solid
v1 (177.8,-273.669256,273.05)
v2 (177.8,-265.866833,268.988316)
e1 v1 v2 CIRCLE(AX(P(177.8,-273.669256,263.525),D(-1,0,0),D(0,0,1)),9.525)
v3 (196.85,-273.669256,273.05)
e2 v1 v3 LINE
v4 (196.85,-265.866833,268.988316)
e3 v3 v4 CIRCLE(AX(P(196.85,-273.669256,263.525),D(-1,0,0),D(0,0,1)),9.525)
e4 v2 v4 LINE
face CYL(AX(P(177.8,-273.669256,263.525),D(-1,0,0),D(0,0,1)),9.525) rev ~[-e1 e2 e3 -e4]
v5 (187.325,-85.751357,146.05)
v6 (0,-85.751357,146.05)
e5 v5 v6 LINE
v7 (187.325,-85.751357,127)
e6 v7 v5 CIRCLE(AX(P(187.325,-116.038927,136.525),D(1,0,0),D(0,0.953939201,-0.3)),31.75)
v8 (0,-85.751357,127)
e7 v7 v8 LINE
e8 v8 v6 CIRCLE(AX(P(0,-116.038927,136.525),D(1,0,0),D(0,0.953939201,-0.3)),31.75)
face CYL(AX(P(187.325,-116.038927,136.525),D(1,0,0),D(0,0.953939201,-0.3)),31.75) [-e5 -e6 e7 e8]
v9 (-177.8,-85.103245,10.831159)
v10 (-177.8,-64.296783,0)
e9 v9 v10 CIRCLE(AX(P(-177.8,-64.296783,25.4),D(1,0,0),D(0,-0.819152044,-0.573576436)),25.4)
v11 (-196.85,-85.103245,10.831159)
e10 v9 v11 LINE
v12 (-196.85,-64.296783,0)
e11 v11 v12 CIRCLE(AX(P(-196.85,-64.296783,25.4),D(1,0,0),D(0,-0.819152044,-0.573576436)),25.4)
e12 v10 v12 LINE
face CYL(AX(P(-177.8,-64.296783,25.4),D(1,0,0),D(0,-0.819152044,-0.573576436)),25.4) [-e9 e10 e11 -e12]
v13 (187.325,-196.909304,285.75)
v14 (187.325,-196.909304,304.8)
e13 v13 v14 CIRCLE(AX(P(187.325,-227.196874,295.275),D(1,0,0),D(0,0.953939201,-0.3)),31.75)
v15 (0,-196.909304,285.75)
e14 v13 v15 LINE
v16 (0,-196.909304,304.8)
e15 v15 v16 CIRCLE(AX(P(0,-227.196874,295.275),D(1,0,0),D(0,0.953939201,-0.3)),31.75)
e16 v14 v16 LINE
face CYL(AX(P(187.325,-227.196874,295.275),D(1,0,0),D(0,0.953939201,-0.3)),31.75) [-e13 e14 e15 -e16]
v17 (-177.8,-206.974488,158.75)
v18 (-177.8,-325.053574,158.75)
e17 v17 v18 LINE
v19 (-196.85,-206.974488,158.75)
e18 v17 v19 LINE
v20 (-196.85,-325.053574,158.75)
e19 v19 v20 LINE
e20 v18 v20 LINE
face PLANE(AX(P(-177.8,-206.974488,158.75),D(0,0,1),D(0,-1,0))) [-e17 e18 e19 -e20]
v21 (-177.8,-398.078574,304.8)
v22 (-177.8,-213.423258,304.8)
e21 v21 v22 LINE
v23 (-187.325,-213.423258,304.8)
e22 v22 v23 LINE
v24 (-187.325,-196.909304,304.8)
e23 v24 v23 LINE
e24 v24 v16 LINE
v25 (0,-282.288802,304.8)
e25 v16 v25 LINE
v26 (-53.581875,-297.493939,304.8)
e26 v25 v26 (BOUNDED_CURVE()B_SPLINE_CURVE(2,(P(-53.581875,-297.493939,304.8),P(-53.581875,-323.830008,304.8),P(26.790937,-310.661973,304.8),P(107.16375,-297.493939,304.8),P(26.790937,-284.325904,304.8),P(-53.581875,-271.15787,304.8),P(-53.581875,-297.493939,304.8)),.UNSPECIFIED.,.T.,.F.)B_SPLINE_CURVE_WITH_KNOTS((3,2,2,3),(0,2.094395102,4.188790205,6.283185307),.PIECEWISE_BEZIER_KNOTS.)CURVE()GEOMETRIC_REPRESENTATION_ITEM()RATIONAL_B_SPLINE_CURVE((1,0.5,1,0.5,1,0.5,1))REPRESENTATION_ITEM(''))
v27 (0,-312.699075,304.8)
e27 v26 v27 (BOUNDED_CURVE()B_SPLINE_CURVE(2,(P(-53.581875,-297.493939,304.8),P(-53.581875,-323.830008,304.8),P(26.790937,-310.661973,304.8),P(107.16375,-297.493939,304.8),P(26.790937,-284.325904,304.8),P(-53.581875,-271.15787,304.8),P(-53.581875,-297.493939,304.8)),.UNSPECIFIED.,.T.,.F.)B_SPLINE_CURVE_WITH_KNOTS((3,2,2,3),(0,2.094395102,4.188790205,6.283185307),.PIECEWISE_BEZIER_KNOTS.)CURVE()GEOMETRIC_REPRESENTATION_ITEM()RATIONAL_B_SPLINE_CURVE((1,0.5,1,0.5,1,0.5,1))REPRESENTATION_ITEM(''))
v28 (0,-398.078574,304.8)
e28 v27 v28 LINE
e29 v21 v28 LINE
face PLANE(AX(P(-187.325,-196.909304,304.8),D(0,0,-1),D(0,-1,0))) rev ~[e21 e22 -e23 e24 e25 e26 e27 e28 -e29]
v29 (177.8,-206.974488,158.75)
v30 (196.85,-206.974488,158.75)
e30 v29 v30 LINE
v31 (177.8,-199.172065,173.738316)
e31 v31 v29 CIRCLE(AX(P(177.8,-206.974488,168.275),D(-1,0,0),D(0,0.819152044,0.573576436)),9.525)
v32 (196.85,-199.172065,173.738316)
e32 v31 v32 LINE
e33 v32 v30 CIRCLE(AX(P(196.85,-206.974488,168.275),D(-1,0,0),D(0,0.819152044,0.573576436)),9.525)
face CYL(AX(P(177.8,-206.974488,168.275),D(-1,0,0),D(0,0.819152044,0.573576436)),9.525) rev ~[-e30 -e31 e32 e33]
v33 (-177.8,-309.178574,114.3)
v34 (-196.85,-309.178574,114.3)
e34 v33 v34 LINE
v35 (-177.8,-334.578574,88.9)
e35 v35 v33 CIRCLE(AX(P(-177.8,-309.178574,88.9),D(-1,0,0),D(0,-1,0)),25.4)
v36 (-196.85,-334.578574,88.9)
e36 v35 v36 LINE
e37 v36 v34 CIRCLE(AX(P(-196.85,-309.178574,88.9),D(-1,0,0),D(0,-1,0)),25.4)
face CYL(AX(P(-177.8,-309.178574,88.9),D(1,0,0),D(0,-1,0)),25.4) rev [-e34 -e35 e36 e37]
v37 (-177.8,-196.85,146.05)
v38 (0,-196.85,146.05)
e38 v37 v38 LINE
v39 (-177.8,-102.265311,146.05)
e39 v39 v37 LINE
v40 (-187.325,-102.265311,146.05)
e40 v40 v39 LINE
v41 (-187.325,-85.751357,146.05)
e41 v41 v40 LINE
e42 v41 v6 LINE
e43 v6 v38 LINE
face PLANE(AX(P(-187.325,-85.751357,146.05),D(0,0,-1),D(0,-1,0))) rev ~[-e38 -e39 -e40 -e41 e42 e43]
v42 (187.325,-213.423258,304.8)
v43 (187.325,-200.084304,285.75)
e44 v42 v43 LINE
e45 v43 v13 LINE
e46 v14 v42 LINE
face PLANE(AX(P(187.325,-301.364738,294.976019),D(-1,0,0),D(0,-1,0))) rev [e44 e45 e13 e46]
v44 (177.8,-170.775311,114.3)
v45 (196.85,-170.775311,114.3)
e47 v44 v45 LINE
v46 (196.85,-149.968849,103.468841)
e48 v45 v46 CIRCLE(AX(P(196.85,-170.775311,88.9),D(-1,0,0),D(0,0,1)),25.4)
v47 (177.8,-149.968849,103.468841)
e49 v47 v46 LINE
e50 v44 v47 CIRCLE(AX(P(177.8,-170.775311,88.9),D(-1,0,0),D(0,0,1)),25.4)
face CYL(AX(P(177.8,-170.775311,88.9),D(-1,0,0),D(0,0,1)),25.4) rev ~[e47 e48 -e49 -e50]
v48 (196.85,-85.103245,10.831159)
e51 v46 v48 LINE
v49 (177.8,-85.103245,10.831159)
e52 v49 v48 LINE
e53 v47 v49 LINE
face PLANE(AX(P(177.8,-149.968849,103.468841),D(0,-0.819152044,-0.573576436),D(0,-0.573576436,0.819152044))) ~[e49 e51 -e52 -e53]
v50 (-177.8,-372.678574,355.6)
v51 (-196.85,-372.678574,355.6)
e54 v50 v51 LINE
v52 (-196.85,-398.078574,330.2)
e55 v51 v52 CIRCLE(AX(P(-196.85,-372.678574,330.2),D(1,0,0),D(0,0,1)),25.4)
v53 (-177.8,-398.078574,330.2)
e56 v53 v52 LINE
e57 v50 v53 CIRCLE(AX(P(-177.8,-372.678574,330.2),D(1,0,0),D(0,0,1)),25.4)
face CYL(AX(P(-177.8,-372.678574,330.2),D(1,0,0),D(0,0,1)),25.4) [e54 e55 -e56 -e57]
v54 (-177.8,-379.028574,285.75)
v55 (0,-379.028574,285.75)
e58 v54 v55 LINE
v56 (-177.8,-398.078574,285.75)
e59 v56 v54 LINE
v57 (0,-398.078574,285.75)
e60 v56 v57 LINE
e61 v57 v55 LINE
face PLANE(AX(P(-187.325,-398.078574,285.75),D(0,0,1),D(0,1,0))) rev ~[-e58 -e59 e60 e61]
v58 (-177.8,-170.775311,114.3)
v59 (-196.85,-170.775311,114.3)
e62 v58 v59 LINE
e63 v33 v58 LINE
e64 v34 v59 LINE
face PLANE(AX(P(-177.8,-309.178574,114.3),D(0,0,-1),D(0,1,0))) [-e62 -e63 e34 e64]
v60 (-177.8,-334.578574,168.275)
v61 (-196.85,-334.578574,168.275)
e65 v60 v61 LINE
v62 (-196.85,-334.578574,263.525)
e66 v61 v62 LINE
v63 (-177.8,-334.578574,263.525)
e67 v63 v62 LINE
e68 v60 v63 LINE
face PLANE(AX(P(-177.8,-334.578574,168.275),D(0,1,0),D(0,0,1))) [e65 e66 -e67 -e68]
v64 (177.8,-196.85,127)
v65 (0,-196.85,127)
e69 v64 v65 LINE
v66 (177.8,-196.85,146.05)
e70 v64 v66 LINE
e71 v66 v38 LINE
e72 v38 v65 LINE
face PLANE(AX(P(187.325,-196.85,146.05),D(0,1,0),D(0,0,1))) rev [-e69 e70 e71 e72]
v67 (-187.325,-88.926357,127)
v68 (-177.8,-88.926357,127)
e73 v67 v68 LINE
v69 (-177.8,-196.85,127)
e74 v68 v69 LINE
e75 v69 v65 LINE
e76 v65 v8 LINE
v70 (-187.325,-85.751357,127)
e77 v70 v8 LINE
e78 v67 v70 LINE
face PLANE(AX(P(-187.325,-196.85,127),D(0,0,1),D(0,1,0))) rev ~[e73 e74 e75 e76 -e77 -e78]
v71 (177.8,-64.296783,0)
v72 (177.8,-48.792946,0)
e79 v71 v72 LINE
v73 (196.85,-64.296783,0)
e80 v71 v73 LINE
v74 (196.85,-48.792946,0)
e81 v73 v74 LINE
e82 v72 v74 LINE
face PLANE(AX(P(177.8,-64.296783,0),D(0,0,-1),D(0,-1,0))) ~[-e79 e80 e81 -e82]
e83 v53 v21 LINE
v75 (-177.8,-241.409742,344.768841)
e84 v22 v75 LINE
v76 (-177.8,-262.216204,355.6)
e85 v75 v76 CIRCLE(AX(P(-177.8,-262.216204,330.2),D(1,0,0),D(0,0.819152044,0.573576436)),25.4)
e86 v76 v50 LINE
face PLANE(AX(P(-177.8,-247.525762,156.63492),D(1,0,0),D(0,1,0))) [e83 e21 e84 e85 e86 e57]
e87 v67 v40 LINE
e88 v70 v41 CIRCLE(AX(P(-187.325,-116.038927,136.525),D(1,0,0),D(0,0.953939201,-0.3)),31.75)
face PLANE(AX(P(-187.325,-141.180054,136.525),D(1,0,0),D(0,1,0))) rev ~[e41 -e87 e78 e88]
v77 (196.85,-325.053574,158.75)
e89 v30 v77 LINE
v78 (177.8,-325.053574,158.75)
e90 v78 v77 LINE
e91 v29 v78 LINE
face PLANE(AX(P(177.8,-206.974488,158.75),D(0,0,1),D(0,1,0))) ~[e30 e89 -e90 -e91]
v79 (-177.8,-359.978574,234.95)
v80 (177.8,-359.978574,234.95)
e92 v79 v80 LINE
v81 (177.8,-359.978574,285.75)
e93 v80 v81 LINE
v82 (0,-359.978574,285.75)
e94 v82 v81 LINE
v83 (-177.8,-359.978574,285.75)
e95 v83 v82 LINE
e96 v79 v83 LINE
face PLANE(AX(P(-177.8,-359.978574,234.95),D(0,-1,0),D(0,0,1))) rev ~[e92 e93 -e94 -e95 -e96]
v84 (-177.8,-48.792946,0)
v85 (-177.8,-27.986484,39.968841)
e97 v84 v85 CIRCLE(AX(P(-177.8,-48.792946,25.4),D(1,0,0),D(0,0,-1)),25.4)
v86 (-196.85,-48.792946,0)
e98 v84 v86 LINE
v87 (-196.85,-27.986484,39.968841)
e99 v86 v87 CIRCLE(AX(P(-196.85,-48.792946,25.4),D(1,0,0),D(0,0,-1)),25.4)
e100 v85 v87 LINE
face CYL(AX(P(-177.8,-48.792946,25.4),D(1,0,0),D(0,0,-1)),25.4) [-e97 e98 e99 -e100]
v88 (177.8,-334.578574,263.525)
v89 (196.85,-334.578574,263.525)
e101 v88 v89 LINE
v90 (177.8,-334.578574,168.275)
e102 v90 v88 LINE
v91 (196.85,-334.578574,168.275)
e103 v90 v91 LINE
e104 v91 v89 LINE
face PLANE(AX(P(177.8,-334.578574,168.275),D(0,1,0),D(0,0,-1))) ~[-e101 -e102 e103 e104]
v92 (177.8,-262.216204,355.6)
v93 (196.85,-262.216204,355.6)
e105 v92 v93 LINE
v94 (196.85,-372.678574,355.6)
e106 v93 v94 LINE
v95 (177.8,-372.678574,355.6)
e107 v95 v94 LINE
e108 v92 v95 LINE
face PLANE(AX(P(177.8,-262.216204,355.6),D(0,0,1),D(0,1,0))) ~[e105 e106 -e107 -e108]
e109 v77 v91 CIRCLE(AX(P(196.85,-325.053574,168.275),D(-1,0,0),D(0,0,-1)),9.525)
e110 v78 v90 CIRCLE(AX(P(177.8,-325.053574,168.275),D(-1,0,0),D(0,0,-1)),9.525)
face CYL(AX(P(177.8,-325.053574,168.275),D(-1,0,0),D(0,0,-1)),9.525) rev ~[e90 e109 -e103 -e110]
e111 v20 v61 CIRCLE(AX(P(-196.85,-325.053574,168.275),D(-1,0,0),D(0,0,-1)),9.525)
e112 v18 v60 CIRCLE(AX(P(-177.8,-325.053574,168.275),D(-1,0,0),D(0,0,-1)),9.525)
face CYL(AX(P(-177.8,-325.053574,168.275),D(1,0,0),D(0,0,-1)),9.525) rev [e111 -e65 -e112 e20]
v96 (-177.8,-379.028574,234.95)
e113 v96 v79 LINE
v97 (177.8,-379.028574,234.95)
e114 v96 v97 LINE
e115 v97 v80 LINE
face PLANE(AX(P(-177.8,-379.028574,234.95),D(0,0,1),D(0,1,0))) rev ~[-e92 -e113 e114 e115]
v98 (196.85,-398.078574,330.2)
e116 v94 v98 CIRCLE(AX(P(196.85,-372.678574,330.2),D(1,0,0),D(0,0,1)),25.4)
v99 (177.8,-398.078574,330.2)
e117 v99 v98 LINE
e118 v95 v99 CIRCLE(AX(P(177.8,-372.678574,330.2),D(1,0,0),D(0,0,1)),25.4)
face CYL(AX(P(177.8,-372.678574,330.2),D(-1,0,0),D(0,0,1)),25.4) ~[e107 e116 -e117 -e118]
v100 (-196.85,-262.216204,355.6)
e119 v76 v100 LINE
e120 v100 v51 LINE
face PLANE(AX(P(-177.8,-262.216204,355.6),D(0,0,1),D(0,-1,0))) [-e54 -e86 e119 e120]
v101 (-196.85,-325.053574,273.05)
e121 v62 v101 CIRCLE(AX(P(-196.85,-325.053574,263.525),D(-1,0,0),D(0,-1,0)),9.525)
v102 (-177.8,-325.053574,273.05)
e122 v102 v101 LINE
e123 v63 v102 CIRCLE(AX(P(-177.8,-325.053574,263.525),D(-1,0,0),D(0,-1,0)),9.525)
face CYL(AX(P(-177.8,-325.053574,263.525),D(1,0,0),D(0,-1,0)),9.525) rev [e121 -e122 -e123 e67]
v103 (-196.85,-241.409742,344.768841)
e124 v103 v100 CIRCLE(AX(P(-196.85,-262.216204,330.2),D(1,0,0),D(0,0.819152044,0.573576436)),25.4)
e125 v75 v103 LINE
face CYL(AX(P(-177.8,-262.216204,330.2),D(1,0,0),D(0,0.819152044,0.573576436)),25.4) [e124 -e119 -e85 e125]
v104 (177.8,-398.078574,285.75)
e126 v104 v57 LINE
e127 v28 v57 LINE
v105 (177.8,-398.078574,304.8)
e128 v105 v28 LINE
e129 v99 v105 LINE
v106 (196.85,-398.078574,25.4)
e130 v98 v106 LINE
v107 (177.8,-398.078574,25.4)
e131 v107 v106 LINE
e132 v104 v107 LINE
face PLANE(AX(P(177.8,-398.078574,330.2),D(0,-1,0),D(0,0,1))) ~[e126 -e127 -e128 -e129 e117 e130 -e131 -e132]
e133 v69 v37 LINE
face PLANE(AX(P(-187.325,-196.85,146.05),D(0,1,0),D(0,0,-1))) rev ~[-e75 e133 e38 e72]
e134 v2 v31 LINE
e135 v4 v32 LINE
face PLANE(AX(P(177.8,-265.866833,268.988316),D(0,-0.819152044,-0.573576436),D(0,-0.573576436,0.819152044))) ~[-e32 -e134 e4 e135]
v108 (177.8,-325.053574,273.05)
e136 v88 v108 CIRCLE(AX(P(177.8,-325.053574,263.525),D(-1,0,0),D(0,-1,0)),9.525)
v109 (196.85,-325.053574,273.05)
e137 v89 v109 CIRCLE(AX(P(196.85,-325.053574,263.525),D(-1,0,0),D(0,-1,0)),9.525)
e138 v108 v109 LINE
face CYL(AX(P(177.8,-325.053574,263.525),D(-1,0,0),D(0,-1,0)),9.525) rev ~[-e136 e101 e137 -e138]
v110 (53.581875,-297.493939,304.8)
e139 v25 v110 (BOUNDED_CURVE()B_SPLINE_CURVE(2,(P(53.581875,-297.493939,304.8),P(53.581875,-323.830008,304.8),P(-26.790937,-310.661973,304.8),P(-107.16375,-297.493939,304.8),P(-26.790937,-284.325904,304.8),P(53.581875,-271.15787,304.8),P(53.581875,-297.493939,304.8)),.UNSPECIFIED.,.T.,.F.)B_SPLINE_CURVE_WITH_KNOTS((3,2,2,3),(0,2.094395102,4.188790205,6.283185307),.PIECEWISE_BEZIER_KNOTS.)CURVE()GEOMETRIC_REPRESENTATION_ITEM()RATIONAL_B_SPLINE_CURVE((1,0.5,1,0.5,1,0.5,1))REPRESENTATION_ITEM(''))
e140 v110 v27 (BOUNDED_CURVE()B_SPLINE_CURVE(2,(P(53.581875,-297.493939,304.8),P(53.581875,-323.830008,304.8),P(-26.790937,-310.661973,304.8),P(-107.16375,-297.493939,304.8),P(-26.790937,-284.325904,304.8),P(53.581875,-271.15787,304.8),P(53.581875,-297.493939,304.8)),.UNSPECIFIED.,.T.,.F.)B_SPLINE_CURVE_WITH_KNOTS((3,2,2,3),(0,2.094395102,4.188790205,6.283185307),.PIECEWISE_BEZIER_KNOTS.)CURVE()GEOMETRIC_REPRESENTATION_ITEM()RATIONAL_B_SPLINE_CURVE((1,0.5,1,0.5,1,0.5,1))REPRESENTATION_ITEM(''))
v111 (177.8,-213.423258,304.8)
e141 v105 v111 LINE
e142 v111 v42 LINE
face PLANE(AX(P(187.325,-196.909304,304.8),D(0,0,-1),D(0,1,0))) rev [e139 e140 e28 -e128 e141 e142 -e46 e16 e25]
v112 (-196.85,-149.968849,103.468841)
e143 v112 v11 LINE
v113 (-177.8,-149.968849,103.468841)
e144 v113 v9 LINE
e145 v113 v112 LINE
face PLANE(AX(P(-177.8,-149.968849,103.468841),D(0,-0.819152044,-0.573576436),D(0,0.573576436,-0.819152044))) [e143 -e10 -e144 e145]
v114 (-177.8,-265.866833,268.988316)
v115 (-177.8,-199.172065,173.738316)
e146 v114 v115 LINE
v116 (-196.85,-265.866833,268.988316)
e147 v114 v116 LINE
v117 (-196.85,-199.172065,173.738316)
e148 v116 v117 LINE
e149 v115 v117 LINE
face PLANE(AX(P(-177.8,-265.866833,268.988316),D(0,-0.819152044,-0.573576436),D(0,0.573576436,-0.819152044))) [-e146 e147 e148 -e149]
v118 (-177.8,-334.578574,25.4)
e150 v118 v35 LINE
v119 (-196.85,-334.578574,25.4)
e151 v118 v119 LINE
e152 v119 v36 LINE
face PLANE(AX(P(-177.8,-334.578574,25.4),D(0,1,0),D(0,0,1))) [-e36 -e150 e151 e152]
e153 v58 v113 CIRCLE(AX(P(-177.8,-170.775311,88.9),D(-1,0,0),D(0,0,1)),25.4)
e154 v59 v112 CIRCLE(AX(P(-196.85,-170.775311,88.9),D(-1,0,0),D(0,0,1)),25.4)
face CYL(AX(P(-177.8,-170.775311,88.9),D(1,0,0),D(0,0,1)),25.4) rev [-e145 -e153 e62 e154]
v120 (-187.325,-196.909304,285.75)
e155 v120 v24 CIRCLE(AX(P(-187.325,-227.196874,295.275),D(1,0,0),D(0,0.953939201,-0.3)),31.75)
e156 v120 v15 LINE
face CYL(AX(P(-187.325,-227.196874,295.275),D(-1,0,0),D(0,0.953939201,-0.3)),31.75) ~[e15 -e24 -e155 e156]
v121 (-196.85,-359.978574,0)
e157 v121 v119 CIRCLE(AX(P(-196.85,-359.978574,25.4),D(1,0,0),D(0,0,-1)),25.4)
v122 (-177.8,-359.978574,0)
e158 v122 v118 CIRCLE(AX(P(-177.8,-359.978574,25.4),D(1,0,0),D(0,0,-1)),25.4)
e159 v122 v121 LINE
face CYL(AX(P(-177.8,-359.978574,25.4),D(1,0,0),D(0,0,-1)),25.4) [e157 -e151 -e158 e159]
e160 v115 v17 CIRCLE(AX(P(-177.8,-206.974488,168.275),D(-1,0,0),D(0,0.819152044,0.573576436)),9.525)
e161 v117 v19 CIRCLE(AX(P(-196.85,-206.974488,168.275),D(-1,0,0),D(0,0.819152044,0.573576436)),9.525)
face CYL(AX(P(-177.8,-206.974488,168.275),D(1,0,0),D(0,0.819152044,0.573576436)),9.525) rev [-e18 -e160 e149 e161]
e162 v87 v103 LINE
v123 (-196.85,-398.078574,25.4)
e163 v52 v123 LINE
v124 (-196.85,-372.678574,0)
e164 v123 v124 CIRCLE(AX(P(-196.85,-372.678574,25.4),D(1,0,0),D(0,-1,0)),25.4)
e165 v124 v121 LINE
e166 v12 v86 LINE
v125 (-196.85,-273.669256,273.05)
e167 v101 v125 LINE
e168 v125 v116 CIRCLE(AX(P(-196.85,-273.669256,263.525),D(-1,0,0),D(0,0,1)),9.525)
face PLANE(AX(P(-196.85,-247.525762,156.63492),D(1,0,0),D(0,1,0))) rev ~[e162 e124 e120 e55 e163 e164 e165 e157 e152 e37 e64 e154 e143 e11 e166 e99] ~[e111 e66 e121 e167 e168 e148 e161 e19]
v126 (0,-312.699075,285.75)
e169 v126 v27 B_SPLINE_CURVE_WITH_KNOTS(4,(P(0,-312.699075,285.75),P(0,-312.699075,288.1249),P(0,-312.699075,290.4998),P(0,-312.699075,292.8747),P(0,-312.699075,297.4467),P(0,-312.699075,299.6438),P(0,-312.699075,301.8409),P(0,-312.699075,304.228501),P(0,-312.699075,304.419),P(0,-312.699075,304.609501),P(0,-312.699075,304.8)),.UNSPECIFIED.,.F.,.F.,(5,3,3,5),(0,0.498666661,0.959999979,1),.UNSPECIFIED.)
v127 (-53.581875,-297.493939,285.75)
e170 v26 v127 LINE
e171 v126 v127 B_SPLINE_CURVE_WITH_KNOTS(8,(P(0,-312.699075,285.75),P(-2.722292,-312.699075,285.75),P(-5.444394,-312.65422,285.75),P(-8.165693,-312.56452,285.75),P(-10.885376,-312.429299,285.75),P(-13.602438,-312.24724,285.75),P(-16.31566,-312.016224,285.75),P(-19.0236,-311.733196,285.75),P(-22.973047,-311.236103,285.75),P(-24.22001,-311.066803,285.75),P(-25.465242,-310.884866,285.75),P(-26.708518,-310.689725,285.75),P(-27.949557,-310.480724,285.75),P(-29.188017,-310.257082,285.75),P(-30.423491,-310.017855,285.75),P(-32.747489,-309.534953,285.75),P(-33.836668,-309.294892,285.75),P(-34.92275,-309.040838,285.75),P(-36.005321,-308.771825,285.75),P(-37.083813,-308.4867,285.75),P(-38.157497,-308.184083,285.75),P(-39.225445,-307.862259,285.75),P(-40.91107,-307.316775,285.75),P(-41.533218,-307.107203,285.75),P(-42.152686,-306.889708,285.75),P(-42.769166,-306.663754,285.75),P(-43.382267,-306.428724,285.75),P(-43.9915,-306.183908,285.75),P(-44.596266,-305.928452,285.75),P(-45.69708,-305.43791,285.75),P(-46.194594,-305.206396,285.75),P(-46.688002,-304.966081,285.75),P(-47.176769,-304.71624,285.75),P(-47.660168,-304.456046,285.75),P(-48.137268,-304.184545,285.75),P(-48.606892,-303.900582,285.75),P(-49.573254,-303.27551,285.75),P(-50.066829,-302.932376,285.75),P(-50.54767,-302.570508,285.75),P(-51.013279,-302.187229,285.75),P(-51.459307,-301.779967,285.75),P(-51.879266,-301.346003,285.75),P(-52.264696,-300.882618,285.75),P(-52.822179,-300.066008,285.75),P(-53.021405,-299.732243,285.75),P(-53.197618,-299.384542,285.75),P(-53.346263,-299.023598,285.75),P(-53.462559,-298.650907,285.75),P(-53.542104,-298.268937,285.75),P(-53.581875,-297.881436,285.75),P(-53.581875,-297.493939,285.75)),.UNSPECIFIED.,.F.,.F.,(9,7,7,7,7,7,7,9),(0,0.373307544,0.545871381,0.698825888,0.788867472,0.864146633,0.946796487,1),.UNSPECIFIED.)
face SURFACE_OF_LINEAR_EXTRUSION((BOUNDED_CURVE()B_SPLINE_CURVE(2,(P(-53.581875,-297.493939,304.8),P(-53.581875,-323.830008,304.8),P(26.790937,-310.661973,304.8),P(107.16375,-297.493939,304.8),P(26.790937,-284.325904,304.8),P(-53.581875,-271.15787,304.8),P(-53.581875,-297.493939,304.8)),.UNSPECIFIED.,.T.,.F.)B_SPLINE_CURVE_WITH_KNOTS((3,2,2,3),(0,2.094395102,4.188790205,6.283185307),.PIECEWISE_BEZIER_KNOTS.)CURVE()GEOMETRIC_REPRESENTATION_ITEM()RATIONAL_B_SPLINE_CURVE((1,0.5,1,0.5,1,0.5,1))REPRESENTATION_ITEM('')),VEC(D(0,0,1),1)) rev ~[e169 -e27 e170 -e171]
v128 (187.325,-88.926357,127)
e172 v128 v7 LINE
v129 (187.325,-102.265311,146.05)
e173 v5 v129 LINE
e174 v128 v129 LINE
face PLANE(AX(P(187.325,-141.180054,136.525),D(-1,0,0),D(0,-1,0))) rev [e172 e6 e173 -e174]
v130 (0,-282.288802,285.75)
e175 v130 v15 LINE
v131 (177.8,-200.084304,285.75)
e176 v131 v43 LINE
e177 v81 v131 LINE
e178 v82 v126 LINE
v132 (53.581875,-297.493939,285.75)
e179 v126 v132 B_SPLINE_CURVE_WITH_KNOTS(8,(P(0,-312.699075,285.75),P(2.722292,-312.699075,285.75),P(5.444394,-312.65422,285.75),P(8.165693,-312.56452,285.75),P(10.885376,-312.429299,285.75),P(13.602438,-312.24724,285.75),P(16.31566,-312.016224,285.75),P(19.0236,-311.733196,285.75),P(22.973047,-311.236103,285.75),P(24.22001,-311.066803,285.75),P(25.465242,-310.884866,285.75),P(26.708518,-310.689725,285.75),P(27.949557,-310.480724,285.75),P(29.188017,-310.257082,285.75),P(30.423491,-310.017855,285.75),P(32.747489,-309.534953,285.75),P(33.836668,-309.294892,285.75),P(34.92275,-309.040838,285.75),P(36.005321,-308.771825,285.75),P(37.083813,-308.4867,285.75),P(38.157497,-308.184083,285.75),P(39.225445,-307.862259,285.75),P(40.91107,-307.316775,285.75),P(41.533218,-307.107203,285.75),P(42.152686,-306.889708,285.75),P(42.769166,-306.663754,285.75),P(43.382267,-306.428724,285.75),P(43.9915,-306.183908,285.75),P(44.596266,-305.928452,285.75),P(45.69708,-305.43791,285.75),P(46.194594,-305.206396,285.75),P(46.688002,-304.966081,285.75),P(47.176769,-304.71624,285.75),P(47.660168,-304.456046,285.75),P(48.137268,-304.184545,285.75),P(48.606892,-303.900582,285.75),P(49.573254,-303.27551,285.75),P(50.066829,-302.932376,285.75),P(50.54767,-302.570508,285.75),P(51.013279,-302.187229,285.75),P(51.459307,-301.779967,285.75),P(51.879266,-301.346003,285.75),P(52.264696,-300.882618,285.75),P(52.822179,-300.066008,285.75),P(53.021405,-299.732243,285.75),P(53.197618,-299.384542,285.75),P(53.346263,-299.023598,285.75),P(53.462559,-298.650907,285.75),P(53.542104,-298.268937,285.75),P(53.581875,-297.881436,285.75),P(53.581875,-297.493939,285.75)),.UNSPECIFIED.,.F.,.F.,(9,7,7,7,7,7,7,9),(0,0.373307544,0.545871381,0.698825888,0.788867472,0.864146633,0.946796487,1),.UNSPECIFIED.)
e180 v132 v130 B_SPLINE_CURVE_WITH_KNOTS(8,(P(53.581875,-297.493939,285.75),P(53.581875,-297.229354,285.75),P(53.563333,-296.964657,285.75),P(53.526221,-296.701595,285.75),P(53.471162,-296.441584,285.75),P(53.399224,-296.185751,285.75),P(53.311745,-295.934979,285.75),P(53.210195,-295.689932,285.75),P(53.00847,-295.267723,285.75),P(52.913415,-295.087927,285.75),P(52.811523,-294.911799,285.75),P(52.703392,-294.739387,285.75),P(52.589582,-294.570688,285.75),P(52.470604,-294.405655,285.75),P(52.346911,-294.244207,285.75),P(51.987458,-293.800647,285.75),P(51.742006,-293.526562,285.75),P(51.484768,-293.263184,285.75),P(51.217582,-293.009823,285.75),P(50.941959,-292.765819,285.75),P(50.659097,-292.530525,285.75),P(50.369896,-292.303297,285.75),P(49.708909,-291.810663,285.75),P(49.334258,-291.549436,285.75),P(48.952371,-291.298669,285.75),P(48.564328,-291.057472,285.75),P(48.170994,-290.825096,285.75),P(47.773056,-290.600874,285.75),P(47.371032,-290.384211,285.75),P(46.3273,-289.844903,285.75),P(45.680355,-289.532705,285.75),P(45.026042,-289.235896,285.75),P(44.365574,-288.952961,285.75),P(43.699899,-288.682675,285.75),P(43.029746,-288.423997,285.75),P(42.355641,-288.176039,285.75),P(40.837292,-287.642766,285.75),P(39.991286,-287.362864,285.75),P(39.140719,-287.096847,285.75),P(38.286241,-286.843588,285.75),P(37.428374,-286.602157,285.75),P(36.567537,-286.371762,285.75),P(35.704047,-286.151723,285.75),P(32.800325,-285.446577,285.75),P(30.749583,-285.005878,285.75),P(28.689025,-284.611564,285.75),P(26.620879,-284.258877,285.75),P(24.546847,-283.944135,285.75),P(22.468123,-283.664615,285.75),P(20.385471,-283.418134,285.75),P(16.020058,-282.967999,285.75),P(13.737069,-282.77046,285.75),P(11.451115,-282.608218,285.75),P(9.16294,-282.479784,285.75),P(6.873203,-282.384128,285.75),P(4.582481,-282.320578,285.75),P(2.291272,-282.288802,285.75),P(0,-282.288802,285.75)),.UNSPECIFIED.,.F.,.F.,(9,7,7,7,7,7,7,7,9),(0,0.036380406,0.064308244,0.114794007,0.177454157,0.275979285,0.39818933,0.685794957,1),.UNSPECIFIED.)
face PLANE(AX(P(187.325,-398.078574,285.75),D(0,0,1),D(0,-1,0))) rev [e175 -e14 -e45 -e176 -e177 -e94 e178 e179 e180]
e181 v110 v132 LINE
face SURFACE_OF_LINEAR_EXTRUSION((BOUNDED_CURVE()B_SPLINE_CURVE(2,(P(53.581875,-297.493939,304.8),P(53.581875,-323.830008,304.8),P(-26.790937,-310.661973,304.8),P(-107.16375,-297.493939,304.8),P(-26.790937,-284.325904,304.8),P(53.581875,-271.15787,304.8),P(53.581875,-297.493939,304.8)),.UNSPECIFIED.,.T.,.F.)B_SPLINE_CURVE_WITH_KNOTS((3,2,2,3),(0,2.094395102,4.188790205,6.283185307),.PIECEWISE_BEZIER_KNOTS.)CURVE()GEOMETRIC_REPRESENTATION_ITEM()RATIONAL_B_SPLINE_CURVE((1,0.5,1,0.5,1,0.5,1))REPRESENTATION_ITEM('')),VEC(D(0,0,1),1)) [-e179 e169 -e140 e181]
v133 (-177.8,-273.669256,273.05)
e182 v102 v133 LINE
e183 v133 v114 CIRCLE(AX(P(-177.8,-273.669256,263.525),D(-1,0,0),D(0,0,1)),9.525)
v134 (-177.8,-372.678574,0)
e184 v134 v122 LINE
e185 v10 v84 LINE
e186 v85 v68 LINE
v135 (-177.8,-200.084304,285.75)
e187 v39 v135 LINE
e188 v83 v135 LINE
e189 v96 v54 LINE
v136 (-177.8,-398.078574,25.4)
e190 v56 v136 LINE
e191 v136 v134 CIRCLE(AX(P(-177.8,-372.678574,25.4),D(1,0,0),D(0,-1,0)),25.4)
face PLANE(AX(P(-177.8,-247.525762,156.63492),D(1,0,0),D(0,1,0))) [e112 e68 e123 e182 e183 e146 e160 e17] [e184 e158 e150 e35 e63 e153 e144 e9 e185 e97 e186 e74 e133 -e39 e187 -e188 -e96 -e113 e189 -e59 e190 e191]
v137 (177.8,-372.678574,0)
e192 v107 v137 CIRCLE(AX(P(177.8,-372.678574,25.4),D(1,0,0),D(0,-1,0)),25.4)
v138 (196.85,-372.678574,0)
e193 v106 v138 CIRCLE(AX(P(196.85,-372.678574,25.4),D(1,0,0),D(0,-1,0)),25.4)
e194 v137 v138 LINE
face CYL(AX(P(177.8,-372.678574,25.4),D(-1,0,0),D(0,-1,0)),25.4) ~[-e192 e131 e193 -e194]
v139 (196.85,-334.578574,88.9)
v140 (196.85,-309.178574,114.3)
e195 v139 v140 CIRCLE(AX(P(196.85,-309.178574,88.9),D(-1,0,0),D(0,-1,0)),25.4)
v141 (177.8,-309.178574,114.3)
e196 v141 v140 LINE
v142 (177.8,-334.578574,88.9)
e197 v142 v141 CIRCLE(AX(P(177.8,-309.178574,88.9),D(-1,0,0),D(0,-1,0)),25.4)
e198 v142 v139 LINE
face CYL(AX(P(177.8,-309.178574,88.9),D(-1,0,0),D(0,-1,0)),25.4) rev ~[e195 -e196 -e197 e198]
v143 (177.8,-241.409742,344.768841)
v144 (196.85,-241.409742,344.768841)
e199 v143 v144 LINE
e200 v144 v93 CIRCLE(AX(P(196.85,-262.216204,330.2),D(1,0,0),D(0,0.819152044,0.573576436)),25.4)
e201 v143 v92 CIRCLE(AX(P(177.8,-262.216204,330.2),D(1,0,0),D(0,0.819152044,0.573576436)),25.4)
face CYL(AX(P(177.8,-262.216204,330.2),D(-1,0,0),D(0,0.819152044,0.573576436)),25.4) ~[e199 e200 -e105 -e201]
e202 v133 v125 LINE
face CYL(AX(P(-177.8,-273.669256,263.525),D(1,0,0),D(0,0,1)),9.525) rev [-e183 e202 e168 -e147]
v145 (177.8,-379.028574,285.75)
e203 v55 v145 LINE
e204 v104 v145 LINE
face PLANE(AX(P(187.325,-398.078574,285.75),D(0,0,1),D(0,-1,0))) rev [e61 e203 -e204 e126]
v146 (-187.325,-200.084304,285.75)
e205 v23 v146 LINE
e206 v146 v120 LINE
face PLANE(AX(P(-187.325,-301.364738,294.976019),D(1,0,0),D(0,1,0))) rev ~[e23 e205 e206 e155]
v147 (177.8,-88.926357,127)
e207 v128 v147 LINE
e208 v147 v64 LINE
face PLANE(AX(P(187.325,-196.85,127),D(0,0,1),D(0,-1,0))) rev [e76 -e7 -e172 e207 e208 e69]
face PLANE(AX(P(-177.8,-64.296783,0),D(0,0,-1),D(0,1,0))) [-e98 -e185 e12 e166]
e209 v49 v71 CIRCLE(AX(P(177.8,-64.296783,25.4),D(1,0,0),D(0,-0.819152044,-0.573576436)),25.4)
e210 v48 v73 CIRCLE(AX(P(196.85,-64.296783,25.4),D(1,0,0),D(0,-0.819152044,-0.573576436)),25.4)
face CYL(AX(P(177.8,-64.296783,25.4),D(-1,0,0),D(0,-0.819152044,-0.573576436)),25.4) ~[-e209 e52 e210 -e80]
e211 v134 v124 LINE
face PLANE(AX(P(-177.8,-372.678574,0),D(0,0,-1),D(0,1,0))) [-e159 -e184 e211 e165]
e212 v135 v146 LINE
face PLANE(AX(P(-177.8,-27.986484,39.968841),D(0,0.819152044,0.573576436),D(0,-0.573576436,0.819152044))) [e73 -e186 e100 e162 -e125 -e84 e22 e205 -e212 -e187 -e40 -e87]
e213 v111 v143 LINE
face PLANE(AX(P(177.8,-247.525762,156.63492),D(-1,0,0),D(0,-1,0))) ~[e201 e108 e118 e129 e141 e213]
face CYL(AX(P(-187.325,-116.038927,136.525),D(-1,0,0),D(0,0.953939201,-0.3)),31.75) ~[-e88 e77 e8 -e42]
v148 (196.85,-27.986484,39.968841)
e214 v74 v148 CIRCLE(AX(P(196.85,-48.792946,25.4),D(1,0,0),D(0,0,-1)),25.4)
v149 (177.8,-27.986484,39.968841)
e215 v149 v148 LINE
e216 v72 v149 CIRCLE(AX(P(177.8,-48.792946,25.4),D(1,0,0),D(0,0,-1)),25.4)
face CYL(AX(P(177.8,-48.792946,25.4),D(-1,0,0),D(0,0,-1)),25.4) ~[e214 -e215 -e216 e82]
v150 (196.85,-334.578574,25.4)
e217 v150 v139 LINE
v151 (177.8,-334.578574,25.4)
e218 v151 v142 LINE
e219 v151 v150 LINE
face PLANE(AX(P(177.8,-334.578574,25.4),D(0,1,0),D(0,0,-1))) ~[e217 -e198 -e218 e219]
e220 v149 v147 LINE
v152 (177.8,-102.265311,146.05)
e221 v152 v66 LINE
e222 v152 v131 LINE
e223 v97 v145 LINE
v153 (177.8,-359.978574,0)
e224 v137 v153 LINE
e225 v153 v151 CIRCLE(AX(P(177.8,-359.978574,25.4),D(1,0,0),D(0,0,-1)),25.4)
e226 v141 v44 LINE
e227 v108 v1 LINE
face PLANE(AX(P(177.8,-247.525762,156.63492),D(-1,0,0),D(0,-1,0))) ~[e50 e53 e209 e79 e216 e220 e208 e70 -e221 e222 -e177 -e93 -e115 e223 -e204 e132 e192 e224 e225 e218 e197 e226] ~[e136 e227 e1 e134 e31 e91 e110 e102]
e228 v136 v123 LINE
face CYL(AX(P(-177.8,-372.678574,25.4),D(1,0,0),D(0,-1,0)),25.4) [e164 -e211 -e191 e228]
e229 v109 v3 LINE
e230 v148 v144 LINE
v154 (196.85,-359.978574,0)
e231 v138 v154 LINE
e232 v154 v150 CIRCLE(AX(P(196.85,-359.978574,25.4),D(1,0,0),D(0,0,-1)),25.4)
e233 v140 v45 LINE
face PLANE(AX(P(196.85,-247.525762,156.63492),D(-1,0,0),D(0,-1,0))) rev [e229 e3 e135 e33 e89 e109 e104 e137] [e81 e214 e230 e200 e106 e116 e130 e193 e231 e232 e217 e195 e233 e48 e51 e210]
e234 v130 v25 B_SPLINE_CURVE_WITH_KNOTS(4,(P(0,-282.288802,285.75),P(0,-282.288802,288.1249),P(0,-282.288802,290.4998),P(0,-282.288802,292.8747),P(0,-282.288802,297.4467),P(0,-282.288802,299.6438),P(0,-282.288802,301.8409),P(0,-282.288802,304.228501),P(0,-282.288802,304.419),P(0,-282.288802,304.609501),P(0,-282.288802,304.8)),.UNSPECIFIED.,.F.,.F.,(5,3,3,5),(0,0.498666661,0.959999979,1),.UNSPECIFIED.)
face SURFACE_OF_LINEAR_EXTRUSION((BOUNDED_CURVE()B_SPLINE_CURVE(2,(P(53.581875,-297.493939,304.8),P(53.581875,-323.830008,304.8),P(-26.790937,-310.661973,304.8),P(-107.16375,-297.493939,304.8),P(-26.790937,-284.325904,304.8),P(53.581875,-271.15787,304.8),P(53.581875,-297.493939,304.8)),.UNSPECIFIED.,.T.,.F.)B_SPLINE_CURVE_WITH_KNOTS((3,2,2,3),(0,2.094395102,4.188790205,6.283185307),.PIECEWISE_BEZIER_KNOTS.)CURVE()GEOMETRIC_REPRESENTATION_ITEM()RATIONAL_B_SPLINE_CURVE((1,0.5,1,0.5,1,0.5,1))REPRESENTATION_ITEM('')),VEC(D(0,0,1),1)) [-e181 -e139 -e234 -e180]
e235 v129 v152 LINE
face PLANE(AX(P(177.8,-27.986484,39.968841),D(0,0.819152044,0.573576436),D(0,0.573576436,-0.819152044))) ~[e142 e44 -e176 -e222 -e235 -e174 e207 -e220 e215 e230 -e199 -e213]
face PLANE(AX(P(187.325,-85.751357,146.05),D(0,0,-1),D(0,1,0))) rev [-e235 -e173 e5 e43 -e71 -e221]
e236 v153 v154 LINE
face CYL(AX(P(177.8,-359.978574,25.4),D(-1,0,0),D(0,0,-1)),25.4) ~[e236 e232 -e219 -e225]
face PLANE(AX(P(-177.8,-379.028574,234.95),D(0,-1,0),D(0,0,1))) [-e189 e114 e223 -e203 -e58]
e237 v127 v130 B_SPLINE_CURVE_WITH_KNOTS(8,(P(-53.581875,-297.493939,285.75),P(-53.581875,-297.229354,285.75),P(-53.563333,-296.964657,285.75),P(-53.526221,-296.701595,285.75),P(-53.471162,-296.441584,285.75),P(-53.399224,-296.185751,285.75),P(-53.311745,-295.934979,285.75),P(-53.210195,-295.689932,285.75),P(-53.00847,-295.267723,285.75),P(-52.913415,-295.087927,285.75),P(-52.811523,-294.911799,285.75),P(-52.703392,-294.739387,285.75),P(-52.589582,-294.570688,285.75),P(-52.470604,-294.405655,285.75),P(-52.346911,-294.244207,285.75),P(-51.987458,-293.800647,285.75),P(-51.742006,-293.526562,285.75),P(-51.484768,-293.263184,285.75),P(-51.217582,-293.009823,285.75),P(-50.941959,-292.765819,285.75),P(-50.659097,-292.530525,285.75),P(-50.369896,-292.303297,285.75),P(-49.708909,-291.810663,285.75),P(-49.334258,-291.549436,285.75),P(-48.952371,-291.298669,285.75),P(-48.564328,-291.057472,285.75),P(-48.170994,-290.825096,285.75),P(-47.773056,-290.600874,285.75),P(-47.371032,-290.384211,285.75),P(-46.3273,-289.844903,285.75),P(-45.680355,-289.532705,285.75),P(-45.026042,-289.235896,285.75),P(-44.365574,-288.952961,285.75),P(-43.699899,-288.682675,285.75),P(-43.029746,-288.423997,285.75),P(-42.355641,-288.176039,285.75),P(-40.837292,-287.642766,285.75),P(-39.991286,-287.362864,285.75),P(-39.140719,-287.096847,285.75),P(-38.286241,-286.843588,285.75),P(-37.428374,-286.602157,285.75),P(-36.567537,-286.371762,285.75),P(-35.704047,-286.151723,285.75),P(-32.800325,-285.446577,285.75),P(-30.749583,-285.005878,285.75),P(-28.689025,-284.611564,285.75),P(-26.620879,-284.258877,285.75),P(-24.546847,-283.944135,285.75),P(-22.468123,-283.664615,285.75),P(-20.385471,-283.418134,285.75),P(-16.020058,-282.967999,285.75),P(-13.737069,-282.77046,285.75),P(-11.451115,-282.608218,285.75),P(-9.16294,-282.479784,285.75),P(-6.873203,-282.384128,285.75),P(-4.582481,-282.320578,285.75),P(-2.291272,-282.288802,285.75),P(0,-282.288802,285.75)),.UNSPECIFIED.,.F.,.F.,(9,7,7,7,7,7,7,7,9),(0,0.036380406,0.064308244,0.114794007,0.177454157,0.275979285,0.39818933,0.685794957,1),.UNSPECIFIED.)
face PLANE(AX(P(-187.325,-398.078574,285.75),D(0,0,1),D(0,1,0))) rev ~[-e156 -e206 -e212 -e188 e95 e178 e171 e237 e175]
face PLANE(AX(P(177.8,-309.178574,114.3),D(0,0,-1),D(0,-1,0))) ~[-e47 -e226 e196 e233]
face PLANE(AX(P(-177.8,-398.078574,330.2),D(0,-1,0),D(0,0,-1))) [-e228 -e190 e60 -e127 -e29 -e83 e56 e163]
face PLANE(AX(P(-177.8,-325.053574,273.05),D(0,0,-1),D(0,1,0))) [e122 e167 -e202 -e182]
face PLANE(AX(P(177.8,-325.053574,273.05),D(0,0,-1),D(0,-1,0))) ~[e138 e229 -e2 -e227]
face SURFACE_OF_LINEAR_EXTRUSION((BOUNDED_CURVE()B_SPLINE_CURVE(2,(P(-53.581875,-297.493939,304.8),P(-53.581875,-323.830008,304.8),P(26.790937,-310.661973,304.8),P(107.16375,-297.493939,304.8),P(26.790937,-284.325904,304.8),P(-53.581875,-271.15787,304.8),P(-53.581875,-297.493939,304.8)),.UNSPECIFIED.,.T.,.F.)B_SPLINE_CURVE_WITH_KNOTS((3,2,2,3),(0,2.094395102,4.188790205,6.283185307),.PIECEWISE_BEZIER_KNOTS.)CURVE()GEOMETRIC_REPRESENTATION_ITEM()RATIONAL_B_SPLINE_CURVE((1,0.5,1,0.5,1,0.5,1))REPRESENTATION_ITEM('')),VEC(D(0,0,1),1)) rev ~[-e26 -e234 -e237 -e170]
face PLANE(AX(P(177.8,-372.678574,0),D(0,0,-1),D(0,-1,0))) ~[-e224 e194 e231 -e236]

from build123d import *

# Parameters (mm, degrees)
F2_DEPTH  = 19.05
F3_W      = 9.525
F3_H      = 19.05
F4_DEPTH  = 223.52
F5_W      = 9.525
F5_H      = 19.05
F6_DEPTH  = 196.85
F8_DEPTH  = 187.325
F10_DEPTH = 25.4
F12_W     = 19.05
F12_H     = 50.8
F13_DEPTH = 355.6


with BuildPart() as f2:
    # F1 (on offset) → F2 (new body)
    with BuildSketch(Plane.YZ.offset(-177.8)):
        with BuildLine():
            Line((-64.2967833023, 0), (-48.7929460251, 0))
            ThreePointArc((-48.7929460251, 0), (-26.2628708623, 13.6715852238), (-27.9864841001, 39.9688414833))
            Line((-27.9864841001, 39.9688414833), (-241.4097417464, 344.7688414833))
            ThreePointArc((-241.4097417464, 344.7688414833), (-250.4877888952, 352.7300751627), (-262.2162036714, 355.6))
            Line((-262.2162036714, 355.6), (-372.678573608, 355.6))
            ThreePointArc((-372.678573608, 355.6), (-390.6390858501, 348.1605122421), (-398.078573608, 330.2))
            Line((-398.078573608, 330.2), (-398.078573608, 25.4))
            ThreePointArc((-398.078573608, 25.4), (-390.6390858501, 7.4394877579), (-372.678573608, 0))
            Line((-372.678573608, 0), (-359.978573608, 0))
            ThreePointArc((-359.978573608, 0), (-342.0180613659, 7.4394877579), (-334.578573608, 25.4))
            Line((-334.578573608, 25.4), (-334.578573608, 88.9))
            ThreePointArc((-334.578573608, 88.9), (-327.1390858501, 106.8605122421), (-309.178573608, 114.3))
            Line((-309.178573608, 114.3), (-170.7753110877, 114.3))
            ThreePointArc((-170.7753110877, 114.3), (-159.0468963116, 111.4300751627), (-149.9688491628, 103.4688414833))
            Line((-149.9688491628, 103.4688414833), (-85.1032452273, 10.8311585167))
            ThreePointArc((-85.1032452273, 10.8311585167), (-76.0251980785, 2.8699248373), (-64.2967833023, 0))
        make_face()
        with BuildLine():
            Line((-334.578573608, 168.275), (-334.578573608, 263.525))
            ThreePointArc((-334.578573608, 263.525), (-331.7887656988, 270.2601920908), (-325.053573608, 273.05))
            Line((-325.053573608, 273.05), (-273.669255851, 273.05))
            ThreePointArc((-273.669255851, 273.05), (-269.27110031, 271.973778186), (-265.8668326292, 268.9883155562))
            Line((-265.8668326292, 268.9883155562), (-199.1720646147, 173.7383155562))
            ThreePointArc((-199.1720646147, 173.7383155562), (-198.5257096505, 163.8768444589), (-206.9744878365, 158.75))
            Line((-206.9744878365, 158.75), (-325.053573608, 158.75))
            ThreePointArc((-325.053573608, 158.75), (-331.7887656988, 161.5398079092), (-334.578573608, 168.275))
        make_face(mode=Mode.SUBTRACT)
    extrude(amount=-F2_DEPTH)

    # F3 (on face) → F4 (cut)
    with BuildSketch(Plane.XZ.offset(398.078573608)):
        with Locations((-182.5625, 295.275)):
            Rectangle(F3_W, F3_H)
    extrude(amount=-F4_DEPTH, mode=Mode.SUBTRACT)

    # F5 (on Front) → F6 (cut)
    with BuildSketch(Plane.XZ):
        with Locations((-182.5625, 136.525)):
            Rectangle(F5_W, F5_H)
    extrude(amount=F6_DEPTH, mode=Mode.SUBTRACT)

    # F7 (on face) → F8 (join, through all)
    with BuildSketch(Plane.YZ.offset(-187.325)):
        with BuildLine():
            Line((-88.9263573526, 146.05), (-102.2653109555, 146.05))
            Line((-102.2653109555, 146.05), (-196.85, 146.05))
            Line((-196.85, 146.05), (-196.85, 127))
            Line((-196.85, 127), (-88.9263573526, 127))
            Line((-88.9263573526, 127), (-85.7513573526, 127))
            ThreePointArc((-85.7513573526, 127), (-84.2889269976, 136.525), (-85.7513573526, 146.05))
            Line((-85.7513573526, 146.05), (-88.9263573526, 146.05))
        make_face()
        Polygon((-200.0843040434, 285.75), (-213.4232576463, 304.8), (-398.078573608, 304.8), (-398.078573608, 285.75), align=None)
        with BuildLine():
            Line((-196.9093040434, 304.8), (-213.4232576463, 304.8))
            Line((-213.4232576463, 304.8), (-200.0843040434, 285.75))
            Line((-200.0843040434, 285.75), (-196.9093040434, 285.75))
            ThreePointArc((-196.9093040434, 285.75), (-195.4468736884, 295.275), (-196.9093040434, 304.8))
        make_face()
    extrude(amount=F8_DEPTH)

    # F9 (on face) → F10 (cut)
    with BuildSketch(Plane.XY.offset(304.8)):
        with BuildLine():
            add(Edge.make_bspline(
                [(-53.5818748176, -297.4939388257), (-53.5818748176, -323.8300075914), (26.7909374088, -310.6619732086), (107.1637496352, -297.4939388257), (26.7909374088, -284.3259044429), (-53.5818748176, -271.15787006), (-53.5818748176, -297.4939388257)],
                knots=[0, 0, 0, 2.0943951024, 2.0943951024, 4.1887902048, 4.1887902048, 6.2831853072, 6.2831853072, 6.2831853072], degree=2, weights=[1, 0.5, 1, 0.5, 1, 0.5, 1]))
        make_face()
    extrude(amount=-F10_DEPTH, mode=Mode.SUBTRACT)

    # F11: F2 across plane


with BuildPart() as f2_1:
    add(f2.part)
    add(f2.part.mirror(Plane.YZ))

    # F12 (on face) → F13 (join, through all)
    with BuildSketch(Plane.YZ.offset(-177.8)):
        with Locations((-369.503573608, 260.35)):
            Rectangle(F12_W, F12_H)
    extrude(amount=F13_DEPTH)

    # F14: F2 across plane


with BuildPart() as f2_2:
    add(f2_1.part)
    add(f2_1.part.mirror(Plane.YZ))


solid = f2_2.part
